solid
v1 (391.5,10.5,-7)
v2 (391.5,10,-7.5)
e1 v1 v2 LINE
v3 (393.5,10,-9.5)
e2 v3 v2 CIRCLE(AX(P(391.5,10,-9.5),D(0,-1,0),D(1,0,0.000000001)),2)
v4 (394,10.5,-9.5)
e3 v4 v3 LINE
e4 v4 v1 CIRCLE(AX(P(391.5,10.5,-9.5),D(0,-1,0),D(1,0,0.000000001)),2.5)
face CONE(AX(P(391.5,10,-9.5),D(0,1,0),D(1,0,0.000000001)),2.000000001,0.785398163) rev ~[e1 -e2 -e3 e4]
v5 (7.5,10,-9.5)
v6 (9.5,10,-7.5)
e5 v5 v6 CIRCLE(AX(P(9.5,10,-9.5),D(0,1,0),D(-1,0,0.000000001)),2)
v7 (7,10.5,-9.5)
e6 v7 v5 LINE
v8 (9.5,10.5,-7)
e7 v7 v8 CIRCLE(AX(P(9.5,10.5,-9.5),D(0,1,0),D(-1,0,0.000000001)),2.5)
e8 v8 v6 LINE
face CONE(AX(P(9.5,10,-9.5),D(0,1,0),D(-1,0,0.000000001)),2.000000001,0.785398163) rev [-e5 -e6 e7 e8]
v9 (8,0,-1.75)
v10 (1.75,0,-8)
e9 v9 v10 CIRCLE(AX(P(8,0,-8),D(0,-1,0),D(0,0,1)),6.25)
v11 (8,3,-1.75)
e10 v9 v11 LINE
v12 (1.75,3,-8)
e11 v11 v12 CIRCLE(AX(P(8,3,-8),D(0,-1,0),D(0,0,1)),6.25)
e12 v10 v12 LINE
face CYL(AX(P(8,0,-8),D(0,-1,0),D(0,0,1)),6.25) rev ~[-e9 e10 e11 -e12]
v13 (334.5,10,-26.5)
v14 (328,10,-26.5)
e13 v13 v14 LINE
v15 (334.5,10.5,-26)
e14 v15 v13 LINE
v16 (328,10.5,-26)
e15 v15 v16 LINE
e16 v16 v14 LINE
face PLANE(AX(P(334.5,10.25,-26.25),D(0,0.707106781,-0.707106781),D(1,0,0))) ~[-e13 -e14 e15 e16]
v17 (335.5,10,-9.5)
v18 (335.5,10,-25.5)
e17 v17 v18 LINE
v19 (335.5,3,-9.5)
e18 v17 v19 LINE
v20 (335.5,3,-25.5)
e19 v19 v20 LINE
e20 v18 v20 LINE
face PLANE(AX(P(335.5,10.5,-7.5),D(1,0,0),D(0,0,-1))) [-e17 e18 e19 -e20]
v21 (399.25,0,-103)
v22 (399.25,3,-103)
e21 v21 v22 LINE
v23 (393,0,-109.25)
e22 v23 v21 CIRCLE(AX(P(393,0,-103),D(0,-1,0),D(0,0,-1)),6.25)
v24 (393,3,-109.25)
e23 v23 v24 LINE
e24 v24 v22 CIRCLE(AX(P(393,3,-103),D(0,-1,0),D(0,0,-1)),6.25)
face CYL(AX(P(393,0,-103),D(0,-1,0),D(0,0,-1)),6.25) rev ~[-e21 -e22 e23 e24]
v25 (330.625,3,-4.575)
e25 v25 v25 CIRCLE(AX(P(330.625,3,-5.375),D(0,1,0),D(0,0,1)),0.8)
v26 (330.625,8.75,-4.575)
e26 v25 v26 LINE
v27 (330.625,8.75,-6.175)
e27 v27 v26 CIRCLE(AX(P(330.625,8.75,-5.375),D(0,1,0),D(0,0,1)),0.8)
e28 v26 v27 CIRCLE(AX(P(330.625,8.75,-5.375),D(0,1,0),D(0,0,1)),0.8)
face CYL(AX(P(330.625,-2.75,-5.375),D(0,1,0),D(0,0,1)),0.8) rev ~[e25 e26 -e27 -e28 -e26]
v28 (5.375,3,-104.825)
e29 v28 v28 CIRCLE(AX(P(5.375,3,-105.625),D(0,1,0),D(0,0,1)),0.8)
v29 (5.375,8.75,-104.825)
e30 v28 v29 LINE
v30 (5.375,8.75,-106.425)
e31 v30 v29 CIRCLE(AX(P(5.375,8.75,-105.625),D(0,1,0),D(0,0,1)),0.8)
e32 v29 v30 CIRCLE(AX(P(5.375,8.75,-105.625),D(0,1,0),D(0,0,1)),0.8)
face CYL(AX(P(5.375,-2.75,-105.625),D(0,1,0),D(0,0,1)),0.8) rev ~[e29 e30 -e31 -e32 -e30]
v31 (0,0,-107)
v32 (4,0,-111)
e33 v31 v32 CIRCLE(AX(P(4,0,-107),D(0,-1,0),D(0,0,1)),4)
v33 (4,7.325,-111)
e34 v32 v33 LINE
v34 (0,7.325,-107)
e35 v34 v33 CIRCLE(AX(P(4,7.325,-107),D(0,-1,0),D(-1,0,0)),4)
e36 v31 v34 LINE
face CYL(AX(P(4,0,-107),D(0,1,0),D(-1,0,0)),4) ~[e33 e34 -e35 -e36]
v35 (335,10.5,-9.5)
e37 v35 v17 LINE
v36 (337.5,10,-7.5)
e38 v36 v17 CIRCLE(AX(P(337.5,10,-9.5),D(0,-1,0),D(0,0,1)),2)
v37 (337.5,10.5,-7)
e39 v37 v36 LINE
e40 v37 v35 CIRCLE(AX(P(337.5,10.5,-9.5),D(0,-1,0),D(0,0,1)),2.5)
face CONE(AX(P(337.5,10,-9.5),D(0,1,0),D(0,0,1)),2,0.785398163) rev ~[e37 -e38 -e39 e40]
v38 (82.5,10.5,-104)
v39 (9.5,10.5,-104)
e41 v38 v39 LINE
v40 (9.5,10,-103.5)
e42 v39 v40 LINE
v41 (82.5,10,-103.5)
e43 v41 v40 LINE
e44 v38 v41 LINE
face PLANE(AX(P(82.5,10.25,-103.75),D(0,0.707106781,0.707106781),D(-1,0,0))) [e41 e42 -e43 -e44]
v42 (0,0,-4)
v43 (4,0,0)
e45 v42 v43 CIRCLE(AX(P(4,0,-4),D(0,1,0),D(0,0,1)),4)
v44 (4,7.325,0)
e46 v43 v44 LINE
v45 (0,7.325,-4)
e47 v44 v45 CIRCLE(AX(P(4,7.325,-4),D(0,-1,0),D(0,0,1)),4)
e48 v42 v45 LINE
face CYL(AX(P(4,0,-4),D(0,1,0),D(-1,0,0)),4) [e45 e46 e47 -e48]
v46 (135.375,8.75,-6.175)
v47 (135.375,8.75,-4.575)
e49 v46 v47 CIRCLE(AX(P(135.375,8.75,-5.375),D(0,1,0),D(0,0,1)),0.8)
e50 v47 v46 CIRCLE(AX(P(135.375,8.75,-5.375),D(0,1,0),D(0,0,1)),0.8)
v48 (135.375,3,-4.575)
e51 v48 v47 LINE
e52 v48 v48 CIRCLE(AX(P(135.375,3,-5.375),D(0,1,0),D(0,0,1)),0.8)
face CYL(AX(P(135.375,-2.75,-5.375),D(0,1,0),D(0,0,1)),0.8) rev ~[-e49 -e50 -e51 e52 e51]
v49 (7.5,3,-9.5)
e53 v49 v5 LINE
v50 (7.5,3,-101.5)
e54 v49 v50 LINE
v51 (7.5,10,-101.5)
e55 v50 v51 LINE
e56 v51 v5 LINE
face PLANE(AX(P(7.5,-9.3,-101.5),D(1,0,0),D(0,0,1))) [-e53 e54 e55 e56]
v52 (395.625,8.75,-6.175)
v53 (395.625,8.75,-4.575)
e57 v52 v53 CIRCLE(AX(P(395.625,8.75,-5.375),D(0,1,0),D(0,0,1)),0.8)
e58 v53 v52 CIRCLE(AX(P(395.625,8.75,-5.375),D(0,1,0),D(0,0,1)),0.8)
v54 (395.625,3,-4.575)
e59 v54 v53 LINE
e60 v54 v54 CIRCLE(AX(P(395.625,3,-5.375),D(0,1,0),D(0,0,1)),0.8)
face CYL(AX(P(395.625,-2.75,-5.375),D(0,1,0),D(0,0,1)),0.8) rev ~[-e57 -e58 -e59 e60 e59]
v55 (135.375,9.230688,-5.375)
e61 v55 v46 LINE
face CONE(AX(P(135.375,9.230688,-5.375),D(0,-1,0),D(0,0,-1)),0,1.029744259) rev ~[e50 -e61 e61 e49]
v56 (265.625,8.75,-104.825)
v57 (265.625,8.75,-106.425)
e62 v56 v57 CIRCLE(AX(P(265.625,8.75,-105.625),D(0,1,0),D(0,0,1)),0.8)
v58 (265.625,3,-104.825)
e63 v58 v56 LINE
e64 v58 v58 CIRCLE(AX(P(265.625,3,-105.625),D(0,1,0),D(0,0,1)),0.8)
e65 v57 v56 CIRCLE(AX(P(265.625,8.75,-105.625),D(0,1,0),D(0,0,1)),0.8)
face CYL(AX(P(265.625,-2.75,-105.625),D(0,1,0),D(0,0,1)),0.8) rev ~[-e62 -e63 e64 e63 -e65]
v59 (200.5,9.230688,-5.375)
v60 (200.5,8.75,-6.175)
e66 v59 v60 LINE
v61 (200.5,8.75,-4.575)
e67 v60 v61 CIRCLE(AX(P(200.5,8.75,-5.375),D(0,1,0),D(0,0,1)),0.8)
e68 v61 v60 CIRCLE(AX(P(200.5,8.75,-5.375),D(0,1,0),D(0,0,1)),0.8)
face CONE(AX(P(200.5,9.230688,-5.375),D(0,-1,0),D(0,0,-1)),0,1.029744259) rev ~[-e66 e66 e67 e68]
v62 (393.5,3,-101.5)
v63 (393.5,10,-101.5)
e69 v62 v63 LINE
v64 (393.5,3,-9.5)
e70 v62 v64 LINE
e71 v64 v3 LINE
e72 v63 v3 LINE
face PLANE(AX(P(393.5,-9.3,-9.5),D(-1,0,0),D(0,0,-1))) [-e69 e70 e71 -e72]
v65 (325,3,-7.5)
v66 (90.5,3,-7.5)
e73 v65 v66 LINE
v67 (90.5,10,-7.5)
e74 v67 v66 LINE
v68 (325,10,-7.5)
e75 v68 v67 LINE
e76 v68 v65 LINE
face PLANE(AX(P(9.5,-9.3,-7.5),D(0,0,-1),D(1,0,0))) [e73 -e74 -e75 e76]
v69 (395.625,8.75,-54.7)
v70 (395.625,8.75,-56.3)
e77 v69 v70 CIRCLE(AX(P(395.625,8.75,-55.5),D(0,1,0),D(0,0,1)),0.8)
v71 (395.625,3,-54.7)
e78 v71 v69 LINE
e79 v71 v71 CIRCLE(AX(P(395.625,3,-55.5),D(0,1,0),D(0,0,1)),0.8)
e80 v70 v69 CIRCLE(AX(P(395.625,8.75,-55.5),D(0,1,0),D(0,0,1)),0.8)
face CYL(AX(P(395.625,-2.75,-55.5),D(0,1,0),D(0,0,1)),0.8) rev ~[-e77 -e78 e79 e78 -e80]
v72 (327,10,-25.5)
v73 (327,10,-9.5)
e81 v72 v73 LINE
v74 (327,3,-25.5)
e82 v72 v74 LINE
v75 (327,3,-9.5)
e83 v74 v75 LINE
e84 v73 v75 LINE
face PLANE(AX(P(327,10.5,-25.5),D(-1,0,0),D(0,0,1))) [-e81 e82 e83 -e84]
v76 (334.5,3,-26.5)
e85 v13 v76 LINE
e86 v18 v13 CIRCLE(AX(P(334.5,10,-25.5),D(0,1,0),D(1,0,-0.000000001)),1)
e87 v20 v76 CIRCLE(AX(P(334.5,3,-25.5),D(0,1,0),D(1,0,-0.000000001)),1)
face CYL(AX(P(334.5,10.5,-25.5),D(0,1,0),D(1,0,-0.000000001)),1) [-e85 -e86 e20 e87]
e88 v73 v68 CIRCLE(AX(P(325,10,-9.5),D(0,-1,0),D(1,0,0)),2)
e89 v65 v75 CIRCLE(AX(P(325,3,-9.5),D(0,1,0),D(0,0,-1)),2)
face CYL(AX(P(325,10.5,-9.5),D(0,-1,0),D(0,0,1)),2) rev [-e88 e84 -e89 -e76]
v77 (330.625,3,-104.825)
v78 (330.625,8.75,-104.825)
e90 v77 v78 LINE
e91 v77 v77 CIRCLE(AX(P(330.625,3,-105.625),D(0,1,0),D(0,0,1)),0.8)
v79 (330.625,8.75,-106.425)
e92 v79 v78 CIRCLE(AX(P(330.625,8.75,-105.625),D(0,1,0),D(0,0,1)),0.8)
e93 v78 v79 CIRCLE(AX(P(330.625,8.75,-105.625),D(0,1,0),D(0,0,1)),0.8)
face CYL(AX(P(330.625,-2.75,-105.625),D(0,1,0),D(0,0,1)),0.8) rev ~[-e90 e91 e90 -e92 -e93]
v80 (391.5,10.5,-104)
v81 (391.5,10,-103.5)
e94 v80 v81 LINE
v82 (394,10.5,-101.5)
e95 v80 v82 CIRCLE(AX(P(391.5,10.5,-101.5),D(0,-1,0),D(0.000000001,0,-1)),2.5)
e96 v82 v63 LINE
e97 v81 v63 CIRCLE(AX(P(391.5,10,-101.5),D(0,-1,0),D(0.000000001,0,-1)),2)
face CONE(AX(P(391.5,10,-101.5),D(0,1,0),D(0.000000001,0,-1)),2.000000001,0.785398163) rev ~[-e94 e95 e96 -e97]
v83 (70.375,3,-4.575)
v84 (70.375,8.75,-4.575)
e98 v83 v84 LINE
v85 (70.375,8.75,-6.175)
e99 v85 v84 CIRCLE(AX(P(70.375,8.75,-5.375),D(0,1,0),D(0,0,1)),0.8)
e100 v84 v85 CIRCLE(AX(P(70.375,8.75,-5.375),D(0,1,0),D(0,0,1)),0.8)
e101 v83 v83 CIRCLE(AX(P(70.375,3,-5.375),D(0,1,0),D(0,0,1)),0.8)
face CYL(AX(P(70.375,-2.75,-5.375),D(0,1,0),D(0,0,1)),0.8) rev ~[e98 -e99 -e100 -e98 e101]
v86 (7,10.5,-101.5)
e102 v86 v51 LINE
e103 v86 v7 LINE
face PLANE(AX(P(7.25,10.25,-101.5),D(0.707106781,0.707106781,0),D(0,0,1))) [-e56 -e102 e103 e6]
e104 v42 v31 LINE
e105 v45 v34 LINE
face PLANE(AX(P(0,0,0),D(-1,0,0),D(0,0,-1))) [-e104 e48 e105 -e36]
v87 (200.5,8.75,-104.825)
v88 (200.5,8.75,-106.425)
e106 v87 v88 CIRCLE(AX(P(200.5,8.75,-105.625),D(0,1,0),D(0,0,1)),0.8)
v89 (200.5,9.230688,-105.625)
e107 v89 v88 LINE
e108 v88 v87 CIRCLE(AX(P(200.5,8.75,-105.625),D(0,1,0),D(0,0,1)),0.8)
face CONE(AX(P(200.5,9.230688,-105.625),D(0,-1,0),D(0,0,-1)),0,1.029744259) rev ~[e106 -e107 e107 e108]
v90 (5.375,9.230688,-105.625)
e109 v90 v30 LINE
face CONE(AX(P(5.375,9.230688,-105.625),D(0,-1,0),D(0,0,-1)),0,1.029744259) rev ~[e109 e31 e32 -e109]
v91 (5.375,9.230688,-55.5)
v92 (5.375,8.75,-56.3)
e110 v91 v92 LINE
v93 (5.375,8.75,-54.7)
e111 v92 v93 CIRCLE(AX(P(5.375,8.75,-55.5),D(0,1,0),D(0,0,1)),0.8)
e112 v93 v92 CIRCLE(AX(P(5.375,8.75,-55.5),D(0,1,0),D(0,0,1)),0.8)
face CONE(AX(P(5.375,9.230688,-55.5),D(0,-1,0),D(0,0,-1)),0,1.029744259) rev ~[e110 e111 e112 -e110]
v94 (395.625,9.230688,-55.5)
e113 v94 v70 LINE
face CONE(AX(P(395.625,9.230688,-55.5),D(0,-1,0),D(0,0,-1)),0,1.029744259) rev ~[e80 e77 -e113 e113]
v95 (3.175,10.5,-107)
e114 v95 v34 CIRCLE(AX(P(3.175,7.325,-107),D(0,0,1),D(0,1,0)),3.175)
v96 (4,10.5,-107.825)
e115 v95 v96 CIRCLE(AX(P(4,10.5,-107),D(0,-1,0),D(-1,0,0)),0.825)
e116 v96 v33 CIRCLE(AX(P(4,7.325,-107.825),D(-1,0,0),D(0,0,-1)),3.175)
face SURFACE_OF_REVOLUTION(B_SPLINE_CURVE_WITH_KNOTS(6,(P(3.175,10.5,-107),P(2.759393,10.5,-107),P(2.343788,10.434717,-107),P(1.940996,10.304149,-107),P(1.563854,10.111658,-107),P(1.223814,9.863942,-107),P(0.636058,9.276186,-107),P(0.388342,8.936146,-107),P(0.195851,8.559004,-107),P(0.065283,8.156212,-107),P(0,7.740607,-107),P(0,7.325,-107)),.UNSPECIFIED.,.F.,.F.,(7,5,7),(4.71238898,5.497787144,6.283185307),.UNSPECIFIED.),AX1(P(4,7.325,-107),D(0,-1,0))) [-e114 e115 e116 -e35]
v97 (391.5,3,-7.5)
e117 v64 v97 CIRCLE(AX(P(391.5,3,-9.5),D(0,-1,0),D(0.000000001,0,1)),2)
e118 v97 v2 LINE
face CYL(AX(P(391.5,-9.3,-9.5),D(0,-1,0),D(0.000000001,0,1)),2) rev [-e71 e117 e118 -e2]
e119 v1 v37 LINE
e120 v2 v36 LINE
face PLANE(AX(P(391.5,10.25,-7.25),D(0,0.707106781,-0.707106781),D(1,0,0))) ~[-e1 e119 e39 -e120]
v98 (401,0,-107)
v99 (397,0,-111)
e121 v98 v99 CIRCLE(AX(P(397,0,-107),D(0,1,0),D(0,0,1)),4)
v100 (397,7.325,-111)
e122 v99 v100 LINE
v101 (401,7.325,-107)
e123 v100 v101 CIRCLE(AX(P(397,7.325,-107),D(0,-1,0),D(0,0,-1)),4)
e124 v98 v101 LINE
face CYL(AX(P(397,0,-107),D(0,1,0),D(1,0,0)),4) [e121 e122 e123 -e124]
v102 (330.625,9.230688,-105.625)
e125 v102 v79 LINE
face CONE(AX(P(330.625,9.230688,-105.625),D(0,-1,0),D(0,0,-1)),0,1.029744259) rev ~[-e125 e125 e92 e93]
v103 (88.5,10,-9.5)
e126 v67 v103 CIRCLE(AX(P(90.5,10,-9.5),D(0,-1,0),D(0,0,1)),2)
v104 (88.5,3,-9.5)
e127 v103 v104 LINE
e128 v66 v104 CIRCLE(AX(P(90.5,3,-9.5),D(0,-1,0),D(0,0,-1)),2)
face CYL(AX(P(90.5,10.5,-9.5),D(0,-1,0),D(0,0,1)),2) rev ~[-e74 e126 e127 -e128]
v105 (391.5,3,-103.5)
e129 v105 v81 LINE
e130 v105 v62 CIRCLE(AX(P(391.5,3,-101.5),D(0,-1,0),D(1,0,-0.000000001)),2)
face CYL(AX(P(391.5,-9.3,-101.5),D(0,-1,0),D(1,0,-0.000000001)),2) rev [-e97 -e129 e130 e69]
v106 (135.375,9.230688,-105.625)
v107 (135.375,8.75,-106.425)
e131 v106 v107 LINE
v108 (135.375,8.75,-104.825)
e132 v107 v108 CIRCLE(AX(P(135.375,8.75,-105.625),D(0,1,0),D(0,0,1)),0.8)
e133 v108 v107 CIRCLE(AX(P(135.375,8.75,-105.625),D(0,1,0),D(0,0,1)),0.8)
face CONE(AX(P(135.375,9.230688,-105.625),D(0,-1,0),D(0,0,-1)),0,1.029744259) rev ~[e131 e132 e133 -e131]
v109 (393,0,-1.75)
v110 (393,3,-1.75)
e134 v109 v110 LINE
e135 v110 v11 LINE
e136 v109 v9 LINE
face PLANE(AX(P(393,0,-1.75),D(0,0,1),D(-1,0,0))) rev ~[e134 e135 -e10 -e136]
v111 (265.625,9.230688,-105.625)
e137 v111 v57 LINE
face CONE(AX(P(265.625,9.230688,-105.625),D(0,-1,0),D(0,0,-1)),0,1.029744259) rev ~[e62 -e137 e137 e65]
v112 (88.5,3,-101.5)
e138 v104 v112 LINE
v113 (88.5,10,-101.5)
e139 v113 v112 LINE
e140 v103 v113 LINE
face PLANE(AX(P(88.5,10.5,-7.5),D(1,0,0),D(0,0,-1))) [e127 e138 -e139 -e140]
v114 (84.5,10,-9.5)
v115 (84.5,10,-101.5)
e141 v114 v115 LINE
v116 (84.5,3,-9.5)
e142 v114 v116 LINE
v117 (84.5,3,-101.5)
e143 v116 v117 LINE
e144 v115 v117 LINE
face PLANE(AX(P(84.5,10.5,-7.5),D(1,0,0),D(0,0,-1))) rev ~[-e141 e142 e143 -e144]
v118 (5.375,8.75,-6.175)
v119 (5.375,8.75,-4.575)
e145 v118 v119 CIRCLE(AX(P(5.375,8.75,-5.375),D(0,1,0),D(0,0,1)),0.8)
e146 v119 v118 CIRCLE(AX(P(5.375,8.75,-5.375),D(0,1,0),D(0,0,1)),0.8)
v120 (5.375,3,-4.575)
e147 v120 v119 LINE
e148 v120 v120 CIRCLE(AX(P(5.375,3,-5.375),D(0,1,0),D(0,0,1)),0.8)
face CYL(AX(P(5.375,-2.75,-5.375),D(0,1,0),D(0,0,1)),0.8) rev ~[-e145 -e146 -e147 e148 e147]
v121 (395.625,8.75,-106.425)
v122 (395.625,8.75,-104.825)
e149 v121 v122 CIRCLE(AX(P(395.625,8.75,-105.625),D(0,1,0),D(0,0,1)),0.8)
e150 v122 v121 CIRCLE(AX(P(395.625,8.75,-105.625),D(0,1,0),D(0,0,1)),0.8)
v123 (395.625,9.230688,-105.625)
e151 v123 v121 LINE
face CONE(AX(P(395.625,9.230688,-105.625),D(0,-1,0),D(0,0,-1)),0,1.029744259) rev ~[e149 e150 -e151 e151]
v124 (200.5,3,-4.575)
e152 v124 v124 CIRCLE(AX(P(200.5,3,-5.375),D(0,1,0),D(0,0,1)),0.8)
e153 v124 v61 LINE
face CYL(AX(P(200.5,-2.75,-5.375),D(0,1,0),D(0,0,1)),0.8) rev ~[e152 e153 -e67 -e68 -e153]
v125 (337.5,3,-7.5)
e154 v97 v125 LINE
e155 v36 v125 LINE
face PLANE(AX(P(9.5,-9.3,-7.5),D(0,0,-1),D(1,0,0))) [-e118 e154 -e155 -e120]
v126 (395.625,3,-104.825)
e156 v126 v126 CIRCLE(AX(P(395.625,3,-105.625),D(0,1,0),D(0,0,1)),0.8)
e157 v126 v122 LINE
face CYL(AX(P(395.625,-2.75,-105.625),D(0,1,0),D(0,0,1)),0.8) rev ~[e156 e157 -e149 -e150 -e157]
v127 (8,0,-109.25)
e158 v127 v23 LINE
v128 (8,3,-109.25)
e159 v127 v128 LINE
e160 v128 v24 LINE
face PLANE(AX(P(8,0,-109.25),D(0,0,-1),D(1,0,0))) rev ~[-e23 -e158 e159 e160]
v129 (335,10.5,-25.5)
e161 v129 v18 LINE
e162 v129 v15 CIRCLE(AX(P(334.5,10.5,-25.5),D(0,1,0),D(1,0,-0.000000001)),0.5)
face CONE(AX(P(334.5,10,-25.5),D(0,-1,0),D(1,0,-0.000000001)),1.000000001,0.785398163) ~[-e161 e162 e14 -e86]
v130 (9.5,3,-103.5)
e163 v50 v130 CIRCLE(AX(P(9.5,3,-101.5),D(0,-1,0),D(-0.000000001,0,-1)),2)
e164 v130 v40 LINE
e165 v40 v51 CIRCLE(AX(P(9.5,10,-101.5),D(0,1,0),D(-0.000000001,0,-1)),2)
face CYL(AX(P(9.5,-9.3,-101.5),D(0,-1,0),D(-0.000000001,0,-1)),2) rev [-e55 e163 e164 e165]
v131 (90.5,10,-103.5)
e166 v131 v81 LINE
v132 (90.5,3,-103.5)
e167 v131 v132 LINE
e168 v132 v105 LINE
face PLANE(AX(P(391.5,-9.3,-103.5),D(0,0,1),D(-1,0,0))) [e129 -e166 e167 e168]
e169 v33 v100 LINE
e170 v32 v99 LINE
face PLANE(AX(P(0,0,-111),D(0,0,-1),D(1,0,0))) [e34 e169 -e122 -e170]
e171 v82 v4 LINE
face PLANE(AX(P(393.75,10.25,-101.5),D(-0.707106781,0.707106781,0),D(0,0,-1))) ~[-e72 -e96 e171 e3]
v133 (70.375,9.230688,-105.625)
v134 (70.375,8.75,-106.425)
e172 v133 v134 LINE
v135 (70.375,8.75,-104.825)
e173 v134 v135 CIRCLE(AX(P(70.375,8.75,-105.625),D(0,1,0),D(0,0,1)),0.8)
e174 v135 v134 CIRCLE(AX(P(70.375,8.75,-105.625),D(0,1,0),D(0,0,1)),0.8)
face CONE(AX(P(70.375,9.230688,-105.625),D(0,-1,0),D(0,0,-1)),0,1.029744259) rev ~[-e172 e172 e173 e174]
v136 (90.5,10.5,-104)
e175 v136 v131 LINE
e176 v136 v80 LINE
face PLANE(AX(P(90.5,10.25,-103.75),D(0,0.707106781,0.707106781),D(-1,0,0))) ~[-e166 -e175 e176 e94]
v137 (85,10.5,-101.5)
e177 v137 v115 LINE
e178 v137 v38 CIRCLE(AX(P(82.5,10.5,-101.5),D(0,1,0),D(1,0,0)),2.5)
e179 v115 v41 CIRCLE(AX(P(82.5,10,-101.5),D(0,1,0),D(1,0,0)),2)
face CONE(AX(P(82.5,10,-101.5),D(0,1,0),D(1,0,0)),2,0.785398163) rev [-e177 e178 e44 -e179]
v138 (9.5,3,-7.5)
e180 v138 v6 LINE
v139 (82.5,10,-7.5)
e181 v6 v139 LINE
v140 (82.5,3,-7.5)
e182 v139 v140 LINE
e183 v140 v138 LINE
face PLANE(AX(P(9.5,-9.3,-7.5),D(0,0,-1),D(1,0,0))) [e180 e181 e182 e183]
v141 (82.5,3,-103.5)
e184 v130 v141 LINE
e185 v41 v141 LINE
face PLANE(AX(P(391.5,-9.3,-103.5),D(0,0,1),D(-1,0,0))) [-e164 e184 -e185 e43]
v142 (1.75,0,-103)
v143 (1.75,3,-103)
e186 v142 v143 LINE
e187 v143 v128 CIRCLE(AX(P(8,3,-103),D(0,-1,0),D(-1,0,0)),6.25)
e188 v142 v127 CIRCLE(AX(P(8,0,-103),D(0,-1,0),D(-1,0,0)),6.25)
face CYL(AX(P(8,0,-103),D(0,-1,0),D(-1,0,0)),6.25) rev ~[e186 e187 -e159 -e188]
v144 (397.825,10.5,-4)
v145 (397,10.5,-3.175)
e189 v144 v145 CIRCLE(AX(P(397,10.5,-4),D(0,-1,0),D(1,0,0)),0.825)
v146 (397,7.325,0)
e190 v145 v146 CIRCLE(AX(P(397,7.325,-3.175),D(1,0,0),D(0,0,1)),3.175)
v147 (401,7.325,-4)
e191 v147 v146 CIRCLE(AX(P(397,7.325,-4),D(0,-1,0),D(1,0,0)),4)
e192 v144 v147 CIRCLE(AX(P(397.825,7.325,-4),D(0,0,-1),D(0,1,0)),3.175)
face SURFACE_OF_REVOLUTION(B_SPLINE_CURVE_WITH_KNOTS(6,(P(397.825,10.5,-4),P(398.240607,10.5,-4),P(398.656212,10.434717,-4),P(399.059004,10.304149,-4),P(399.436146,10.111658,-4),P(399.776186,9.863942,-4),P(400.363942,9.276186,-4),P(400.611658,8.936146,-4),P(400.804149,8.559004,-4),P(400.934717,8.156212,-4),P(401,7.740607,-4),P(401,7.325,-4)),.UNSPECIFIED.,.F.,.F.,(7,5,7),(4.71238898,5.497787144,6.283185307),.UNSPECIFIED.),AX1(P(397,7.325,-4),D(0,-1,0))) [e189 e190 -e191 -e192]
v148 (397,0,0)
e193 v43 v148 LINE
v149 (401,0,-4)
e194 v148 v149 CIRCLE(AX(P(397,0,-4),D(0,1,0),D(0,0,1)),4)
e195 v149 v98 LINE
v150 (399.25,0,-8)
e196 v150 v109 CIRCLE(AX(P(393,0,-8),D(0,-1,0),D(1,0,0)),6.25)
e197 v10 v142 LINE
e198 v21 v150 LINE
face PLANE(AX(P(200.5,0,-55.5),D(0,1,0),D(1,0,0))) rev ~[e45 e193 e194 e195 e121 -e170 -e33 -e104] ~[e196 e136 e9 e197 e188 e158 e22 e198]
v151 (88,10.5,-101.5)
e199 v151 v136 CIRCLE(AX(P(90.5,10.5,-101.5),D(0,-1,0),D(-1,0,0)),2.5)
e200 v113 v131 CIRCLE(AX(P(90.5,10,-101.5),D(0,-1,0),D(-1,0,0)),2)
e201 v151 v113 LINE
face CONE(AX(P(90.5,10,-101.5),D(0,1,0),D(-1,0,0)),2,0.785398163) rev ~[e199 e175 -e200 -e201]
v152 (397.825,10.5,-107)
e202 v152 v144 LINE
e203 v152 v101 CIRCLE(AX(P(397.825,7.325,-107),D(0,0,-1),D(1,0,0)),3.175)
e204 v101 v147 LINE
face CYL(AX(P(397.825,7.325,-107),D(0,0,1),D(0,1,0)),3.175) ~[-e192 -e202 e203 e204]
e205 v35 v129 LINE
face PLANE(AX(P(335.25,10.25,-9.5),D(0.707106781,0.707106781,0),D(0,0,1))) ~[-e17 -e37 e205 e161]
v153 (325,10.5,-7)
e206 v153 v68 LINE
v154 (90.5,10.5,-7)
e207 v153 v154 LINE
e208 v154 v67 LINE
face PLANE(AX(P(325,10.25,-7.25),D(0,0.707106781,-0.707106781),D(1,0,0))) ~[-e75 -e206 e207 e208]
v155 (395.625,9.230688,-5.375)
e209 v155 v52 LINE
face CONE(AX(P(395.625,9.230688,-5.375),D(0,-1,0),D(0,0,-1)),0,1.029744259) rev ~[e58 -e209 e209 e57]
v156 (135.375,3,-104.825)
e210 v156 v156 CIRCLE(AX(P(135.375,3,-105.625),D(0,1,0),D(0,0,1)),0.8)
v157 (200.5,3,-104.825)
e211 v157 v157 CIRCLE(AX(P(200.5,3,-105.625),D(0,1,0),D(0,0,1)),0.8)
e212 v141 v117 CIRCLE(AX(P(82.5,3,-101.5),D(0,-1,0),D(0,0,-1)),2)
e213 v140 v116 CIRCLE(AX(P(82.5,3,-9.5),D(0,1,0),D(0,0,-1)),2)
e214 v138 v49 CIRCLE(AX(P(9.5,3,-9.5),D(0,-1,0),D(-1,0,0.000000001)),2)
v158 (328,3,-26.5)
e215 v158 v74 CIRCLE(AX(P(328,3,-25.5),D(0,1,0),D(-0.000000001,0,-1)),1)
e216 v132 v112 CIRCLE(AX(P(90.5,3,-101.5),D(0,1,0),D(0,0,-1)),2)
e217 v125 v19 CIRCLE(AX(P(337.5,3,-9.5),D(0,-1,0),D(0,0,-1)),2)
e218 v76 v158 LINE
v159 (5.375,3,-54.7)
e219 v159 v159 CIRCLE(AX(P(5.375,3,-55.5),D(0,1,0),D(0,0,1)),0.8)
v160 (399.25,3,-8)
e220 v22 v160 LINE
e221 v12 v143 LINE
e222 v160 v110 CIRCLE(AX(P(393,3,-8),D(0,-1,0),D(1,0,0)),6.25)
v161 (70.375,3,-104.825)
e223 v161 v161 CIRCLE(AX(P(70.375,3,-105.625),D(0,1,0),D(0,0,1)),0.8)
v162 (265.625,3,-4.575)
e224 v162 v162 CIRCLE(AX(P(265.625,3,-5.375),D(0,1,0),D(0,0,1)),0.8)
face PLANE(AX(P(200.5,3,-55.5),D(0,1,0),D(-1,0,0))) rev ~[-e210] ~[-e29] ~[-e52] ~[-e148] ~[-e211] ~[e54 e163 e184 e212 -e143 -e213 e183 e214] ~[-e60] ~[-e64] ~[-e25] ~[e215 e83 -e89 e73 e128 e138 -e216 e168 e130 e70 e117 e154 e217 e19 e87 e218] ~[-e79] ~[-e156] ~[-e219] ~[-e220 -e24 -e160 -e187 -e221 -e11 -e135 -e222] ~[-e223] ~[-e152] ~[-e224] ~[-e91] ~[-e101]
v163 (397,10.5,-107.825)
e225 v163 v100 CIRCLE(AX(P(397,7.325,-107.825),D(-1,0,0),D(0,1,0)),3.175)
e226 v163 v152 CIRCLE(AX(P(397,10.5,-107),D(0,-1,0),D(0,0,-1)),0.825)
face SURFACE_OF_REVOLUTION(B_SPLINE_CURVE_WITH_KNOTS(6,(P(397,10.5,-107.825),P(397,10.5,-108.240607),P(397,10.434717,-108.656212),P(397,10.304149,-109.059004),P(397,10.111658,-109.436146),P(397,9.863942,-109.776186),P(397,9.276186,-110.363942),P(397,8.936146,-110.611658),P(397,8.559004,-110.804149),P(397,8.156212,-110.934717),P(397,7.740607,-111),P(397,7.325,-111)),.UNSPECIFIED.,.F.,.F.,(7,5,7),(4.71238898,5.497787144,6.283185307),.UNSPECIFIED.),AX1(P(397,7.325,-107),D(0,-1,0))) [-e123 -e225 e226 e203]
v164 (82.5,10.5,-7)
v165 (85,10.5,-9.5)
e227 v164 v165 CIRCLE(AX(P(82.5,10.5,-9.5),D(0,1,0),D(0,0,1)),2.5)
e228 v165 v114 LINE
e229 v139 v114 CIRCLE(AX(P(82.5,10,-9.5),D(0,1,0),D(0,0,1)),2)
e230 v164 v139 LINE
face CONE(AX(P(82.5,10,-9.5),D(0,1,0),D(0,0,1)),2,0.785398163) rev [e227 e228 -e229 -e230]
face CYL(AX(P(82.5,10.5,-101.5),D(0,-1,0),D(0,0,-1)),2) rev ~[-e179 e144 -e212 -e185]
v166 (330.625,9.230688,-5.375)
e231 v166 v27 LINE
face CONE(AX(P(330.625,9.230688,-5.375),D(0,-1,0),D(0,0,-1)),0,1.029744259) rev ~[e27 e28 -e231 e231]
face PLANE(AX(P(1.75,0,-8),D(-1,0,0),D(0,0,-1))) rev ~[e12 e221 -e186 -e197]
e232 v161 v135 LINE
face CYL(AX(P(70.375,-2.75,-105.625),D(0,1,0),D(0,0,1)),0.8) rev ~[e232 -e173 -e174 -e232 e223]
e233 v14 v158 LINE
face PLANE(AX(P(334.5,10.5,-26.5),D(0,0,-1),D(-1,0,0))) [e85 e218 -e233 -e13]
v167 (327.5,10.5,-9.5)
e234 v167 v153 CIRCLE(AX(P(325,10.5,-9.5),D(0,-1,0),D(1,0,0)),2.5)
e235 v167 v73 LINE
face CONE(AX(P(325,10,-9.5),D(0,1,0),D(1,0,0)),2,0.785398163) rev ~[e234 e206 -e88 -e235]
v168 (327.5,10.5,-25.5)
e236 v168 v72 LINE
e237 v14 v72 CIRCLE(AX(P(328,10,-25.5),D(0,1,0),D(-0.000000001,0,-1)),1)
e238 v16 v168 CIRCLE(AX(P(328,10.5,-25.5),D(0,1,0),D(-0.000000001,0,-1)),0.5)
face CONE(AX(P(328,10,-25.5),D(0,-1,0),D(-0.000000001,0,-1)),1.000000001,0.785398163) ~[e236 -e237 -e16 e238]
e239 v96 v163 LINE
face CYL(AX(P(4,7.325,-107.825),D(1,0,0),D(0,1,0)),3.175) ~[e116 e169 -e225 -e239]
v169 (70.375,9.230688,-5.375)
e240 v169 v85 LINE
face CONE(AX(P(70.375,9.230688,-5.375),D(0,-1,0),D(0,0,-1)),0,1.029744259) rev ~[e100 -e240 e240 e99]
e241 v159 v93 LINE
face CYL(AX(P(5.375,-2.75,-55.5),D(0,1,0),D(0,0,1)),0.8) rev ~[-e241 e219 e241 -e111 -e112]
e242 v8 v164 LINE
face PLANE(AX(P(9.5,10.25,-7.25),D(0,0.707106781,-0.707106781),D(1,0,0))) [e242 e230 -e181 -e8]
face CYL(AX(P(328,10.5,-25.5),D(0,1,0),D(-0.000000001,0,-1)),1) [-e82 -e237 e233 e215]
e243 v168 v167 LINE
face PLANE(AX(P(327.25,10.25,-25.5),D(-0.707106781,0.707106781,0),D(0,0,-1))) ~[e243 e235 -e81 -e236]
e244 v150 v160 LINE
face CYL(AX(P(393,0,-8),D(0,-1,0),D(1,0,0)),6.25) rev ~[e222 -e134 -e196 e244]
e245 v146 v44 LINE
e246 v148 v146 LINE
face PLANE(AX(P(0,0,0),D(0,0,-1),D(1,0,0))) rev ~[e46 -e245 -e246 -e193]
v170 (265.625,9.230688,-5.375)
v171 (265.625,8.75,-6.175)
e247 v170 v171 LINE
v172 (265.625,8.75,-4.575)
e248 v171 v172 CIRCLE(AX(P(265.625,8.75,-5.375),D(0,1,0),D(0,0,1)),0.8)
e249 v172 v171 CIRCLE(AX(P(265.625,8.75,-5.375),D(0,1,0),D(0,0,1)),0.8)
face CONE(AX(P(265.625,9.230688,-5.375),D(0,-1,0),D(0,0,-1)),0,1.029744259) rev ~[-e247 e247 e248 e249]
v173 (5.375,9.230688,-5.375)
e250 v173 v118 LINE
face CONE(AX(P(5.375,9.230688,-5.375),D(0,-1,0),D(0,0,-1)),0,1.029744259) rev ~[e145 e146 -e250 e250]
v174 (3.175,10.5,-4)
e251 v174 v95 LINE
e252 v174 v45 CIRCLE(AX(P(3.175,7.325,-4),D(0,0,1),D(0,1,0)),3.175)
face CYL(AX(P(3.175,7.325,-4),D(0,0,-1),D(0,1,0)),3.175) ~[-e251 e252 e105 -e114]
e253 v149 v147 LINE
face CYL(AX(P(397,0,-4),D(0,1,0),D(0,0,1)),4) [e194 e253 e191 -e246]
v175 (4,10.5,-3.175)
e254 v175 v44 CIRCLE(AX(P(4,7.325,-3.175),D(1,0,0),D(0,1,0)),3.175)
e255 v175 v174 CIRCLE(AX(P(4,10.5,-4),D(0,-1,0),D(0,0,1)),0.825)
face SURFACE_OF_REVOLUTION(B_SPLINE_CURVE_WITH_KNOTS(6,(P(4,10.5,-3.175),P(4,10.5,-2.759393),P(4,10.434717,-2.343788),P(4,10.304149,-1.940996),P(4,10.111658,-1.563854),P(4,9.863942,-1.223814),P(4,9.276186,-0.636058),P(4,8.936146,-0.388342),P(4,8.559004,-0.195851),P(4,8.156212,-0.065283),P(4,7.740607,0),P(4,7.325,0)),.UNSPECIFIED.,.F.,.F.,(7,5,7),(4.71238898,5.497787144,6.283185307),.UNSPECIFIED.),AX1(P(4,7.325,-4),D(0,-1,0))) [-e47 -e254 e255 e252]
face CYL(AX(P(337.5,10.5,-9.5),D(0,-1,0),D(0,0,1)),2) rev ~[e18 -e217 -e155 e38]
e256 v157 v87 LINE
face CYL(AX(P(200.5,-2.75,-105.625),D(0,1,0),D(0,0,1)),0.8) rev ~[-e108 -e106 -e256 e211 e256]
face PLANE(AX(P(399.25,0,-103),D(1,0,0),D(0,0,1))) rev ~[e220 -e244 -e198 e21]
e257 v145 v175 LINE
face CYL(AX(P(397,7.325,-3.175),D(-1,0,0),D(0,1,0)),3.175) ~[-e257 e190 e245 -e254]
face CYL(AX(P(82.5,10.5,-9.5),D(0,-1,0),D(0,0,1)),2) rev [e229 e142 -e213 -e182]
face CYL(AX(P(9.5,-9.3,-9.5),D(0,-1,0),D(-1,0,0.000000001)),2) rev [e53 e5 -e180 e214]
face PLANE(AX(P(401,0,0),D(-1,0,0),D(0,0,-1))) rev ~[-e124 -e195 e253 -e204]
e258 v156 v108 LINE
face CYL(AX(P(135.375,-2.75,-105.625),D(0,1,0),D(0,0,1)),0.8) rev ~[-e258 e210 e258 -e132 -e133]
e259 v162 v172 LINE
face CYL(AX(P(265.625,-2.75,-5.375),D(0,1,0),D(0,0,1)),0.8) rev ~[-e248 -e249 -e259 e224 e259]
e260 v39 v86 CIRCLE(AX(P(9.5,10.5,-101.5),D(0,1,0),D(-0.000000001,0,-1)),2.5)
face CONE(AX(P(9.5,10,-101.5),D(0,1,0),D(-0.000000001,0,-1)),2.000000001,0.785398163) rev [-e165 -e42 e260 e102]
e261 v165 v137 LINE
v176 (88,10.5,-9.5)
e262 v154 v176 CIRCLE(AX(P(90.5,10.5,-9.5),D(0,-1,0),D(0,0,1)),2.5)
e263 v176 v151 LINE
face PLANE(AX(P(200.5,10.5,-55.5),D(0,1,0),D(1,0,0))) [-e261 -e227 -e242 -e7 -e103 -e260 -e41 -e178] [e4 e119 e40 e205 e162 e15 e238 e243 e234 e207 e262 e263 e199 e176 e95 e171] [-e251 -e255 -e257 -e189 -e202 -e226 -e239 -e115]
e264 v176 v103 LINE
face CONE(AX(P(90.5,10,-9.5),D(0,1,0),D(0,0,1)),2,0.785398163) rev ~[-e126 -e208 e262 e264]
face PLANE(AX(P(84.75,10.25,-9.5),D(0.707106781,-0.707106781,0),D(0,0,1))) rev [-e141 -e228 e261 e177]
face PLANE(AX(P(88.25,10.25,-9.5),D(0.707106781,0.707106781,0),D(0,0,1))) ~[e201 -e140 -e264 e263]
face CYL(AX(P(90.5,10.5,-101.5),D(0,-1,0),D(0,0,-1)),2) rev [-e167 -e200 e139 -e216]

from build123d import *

# Parameters (mm, degrees)
SKETCH1_W                 = 401
SKETCH1_H                 = 111
BOSS_EXTRUDE1_DEPTH       = 10.5
CUT_EXTRUDE1_DEPTH        = 3
CUT_EXTRUDE2_DEPTH        = 417.550165046
BOSS_EXTRUDE2_DEPTH       = 7.5
FILLET4_R                 = 2
SKETCH21_W                = 4
SKETCH21_H                = 96
BOSS_EXTRUDE3_DEPTH       = 7.5
FILLET5_R                 = 2
FILLET6_R                 = 4
CHAMFER2_SIZE             = 0.5
FILLET7_R                 = 3.175
M2X0_4_TAPPED_HOLE2_D     = 1.6
M2X0_4_TAPPED_HOLE2_DEPTH = 5.75
M2X0_4_TAPPED_HOLE2_TIP   = 0.480688495
M2X0_4_TAPPED_HOLE3_D     = 1.6
M2X0_4_TAPPED_HOLE3_DEPTH = 5.75
M2X0_4_TAPPED_HOLE3_TIP   = 0.480688495
CUT_EXTRUDE3_DEPTH        = 3


with BuildPart() as part:
    # Sketch1 → Boss-Extrude1 (new body)
    with BuildSketch(Plane(origin=(0, 0, 0), x_dir=(1, 0, 0), z_dir=(0, 1, 0))):
        with Locations((200.5, 55.5)):
            Rectangle(SKETCH1_W, SKETCH1_H)
    extrude(amount=BOSS_EXTRUDE1_DEPTH)

    # Sketch2 → Cut-Extrude1 (cut)
    with BuildSketch(Plane.XZ):
        with BuildLine():
            Line((8, -2), (393, -2))
            ThreePointArc((393, -2), (397.242640687, -3.757359313), (399, -8))
            Line((399, -8), (399, -103))
            ThreePointArc((399, -103), (397.242640687, -107.242640687), (393, -109))
            Line((393, -109), (8, -109))
            ThreePointArc((8, -109), (3.757359313, -107.242640687), (2, -103))
            Line((2, -103), (2, -8))
            ThreePointArc((2, -8), (3.757359313, -3.757359313), (8, -2))
        make_face()
    extrude(amount=-CUT_EXTRUDE1_DEPTH, mode=Mode.SUBTRACT)

    # Sketch3 → Cut-Extrude2 (cut, through all)
    with BuildSketch(Plane.XZ.offset(9.3)):
        with BuildLine():
            Line((9.5, -7.5), (391.5, -7.5))
            ThreePointArc((391.5, -7.5), (392.914213562, -8.085786438), (393.5, -9.5))
            Line((393.5, -9.5), (393.5, -101.5))
            ThreePointArc((393.5, -101.5), (392.914213562, -102.914213562), (391.5, -103.5))
            Line((391.5, -103.5), (9.5, -103.5))
            ThreePointArc((9.5, -103.5), (8.085786438, -102.914213562), (7.5, -101.5))
            Line((7.5, -101.5), (7.5, -9.5))
            ThreePointArc((7.5, -9.5), (8.085786438, -8.085786438), (9.5, -7.5))
        make_face()
    extrude(amount=-CUT_EXTRUDE2_DEPTH, mode=Mode.SUBTRACT)

    # Sketch20 → Boss-Extrude2 (add)
    with BuildSketch(Plane(origin=(0, 10.5, 0), x_dir=(1, 0, 0), z_dir=(0, 1, 0))):
        with BuildLine():
            Line((327, 7.5), (335.5, 7.5))
            Line((335.5, 7.5), (335.5, 25.5))
            ThreePointArc((335.5, 25.5), (335.207106781, 26.207106781), (334.5, 26.5))
            Line((334.5, 26.5), (328, 26.5))
            ThreePointArc((328, 26.5), (327.292893219, 26.207106781), (327, 25.5))
            Line((327, 25.5), (327, 7.5))
        make_face()
    extrude(amount=-BOSS_EXTRUDE2_DEPTH)

    # Fillet4
    fillet4_edges = [part.edges().sort_by_distance(p)[0] for p in [
        (335.5, 6.75, -7.5),
        (327, 6.75, -7.5),
    ]]
    fillet(fillet4_edges, radius=FILLET4_R)

    # Sketch21 → Boss-Extrude3 (add)
    with BuildSketch(Plane(origin=(0, 10.5, 0), x_dir=(1, 0, 0), z_dir=(0, 1, 0))):
        with Locations((86.5, 55.5)):
            Rectangle(SKETCH21_W, SKETCH21_H)
    extrude(amount=-BOSS_EXTRUDE3_DEPTH)

    # Fillet5
    fillet5_edges = [part.edges().sort_by_distance(p)[0] for p in [
        (88.5, 6.75, -7.5),
        (88.5, 6.75, -103.5),
        (84.5, 6.75, -103.5),
        (84.5, 6.75, -7.5),
    ]]
    fillet(fillet5_edges, radius=FILLET5_R)

    # Fillet6
    fillet6_edges = [part.edges().sort_by_distance(p)[0] for p in [
        (0, 5.25, -111),
        (401, 5.25, -111),
        (401, 5.25, 0),
        (0, 5.25, 0),
    ]]
    fillet(fillet6_edges, radius=FILLET6_R)

    # Chamfer2
    chamfer2_edges = [part.edges().sort_by_distance(p)[0] for p in [
        (88.5, 10.5, -55.5),
        (84.5, 10.5, -55.5),
        (46, 10.5, -7.5),
        (241, 10.5, -103.5),
        (89.085786438, 10.5, -8.085786438),
        (83.914213562, 10.5, -8.085786438),
        (83.914213562, 10.5, -102.914213562),
        (89.085786438, 10.5, -102.914213562),
        (392.914213562, 10.5, -8.085786438),
        (393.5, 10.5, -55.5),
        (392.914213562, 10.5, -102.914213562),
        (46, 10.5, -103.5),
        (8.085786438, 10.5, -102.914213562),
        (7.5, 10.5, -55.5),
        (8.085786438, 10.5, -8.085786438),
        (364.5, 10.5, -7.5),
        (327, 10.5, -17.5),
        (335.207106781, 10.5, -26.207106781),
        (331.25, 10.5, -26.5),
        (327.292893219, 10.5, -26.207106781),
        (207.75, 10.5, -7.5),
        (335.5, 10.5, -17.5),
        (326.414213562, 10.5, -8.085786438),
        (336.085786438, 10.5, -8.085786438),
    ]]
    chamfer(chamfer2_edges, length=CHAMFER2_SIZE)

    # Fillet7
    fillet7_edges = [part.edges().sort_by_distance(p)[0] for p in [
        (0, 10.5, -55.5),
        (200.5, 10.5, -111),
        (200.5, 10.5, 0),
        (401, 10.5, -55.5),
        (1.171572875, 10.5, -1.171572875),
        (399.828427125, 10.5, -1.171572875),
        (399.828427125, 10.5, -109.828427125),
        (1.171572875, 10.5, -109.828427125),
    ]]
    fillet(fillet7_edges, radius=FILLET7_R)

    # M2x0.4 Tapped Hole2
    with Locations(Plane(origin=(5.375, 3, -5.375), x_dir=(0, 0, -1), z_dir=(0, -1, 0))):
        with Locations((0, 0), (0, 130), (0, 260.25), (0, 390.25), (100.25, 390.25), (100.25, 260.25), (100.25, 130), (100.25, 0)):
            Hole(M2X0_4_TAPPED_HOLE2_D / 2, depth=M2X0_4_TAPPED_HOLE2_DEPTH)
            with Locations((0, 0, -(M2X0_4_TAPPED_HOLE2_DEPTH + M2X0_4_TAPPED_HOLE2_TIP / 2))):  # 118° drill point
                Cone(0, M2X0_4_TAPPED_HOLE2_D / 2, M2X0_4_TAPPED_HOLE2_TIP, mode=Mode.SUBTRACT)

    # M2x0.4 Tapped Hole3
    with Locations(Plane(origin=(70.375, 3, -5.375), x_dir=(0, 0, -1), z_dir=(0, -1, 0))):
        with Locations((0, 0), (0, 130.125), (0, 260.25), (50.125, 325.25), (100.25, 260.25), (100.25, 130.125), (100.25, 0), (50.125, -65)):
            Hole(M2X0_4_TAPPED_HOLE3_D / 2, depth=M2X0_4_TAPPED_HOLE3_DEPTH)
            with Locations((0, 0, -(M2X0_4_TAPPED_HOLE3_DEPTH + M2X0_4_TAPPED_HOLE3_TIP / 2))):  # 118° drill point
                Cone(0, M2X0_4_TAPPED_HOLE3_D / 2, M2X0_4_TAPPED_HOLE3_TIP, mode=Mode.SUBTRACT)

    # Sketch27 → Cut-Extrude3 (cut)
    with BuildSketch(Plane.XZ):
        with BuildLine():
            Line((393, -1.75), (8, -1.75))
            ThreePointArc((8, -1.75), (3.580582618, -3.580582618), (1.75, -8))
            Line((1.75, -8), (1.75, -103))
            ThreePointArc((1.75, -103), (3.580582618, -107.419417382), (8, -109.25))
            Line((8, -109.25), (393, -109.25))
            ThreePointArc((393, -109.25), (397.419417382, -107.419417382), (399.25, -103))
            Line((399.25, -103), (399.25, -8))
            ThreePointArc((399.25, -8), (397.419417382, -3.580582618), (393, -1.75))
        make_face()
    extrude(amount=-CUT_EXTRUDE3_DEPTH, mode=Mode.SUBTRACT)


solid = part.part
